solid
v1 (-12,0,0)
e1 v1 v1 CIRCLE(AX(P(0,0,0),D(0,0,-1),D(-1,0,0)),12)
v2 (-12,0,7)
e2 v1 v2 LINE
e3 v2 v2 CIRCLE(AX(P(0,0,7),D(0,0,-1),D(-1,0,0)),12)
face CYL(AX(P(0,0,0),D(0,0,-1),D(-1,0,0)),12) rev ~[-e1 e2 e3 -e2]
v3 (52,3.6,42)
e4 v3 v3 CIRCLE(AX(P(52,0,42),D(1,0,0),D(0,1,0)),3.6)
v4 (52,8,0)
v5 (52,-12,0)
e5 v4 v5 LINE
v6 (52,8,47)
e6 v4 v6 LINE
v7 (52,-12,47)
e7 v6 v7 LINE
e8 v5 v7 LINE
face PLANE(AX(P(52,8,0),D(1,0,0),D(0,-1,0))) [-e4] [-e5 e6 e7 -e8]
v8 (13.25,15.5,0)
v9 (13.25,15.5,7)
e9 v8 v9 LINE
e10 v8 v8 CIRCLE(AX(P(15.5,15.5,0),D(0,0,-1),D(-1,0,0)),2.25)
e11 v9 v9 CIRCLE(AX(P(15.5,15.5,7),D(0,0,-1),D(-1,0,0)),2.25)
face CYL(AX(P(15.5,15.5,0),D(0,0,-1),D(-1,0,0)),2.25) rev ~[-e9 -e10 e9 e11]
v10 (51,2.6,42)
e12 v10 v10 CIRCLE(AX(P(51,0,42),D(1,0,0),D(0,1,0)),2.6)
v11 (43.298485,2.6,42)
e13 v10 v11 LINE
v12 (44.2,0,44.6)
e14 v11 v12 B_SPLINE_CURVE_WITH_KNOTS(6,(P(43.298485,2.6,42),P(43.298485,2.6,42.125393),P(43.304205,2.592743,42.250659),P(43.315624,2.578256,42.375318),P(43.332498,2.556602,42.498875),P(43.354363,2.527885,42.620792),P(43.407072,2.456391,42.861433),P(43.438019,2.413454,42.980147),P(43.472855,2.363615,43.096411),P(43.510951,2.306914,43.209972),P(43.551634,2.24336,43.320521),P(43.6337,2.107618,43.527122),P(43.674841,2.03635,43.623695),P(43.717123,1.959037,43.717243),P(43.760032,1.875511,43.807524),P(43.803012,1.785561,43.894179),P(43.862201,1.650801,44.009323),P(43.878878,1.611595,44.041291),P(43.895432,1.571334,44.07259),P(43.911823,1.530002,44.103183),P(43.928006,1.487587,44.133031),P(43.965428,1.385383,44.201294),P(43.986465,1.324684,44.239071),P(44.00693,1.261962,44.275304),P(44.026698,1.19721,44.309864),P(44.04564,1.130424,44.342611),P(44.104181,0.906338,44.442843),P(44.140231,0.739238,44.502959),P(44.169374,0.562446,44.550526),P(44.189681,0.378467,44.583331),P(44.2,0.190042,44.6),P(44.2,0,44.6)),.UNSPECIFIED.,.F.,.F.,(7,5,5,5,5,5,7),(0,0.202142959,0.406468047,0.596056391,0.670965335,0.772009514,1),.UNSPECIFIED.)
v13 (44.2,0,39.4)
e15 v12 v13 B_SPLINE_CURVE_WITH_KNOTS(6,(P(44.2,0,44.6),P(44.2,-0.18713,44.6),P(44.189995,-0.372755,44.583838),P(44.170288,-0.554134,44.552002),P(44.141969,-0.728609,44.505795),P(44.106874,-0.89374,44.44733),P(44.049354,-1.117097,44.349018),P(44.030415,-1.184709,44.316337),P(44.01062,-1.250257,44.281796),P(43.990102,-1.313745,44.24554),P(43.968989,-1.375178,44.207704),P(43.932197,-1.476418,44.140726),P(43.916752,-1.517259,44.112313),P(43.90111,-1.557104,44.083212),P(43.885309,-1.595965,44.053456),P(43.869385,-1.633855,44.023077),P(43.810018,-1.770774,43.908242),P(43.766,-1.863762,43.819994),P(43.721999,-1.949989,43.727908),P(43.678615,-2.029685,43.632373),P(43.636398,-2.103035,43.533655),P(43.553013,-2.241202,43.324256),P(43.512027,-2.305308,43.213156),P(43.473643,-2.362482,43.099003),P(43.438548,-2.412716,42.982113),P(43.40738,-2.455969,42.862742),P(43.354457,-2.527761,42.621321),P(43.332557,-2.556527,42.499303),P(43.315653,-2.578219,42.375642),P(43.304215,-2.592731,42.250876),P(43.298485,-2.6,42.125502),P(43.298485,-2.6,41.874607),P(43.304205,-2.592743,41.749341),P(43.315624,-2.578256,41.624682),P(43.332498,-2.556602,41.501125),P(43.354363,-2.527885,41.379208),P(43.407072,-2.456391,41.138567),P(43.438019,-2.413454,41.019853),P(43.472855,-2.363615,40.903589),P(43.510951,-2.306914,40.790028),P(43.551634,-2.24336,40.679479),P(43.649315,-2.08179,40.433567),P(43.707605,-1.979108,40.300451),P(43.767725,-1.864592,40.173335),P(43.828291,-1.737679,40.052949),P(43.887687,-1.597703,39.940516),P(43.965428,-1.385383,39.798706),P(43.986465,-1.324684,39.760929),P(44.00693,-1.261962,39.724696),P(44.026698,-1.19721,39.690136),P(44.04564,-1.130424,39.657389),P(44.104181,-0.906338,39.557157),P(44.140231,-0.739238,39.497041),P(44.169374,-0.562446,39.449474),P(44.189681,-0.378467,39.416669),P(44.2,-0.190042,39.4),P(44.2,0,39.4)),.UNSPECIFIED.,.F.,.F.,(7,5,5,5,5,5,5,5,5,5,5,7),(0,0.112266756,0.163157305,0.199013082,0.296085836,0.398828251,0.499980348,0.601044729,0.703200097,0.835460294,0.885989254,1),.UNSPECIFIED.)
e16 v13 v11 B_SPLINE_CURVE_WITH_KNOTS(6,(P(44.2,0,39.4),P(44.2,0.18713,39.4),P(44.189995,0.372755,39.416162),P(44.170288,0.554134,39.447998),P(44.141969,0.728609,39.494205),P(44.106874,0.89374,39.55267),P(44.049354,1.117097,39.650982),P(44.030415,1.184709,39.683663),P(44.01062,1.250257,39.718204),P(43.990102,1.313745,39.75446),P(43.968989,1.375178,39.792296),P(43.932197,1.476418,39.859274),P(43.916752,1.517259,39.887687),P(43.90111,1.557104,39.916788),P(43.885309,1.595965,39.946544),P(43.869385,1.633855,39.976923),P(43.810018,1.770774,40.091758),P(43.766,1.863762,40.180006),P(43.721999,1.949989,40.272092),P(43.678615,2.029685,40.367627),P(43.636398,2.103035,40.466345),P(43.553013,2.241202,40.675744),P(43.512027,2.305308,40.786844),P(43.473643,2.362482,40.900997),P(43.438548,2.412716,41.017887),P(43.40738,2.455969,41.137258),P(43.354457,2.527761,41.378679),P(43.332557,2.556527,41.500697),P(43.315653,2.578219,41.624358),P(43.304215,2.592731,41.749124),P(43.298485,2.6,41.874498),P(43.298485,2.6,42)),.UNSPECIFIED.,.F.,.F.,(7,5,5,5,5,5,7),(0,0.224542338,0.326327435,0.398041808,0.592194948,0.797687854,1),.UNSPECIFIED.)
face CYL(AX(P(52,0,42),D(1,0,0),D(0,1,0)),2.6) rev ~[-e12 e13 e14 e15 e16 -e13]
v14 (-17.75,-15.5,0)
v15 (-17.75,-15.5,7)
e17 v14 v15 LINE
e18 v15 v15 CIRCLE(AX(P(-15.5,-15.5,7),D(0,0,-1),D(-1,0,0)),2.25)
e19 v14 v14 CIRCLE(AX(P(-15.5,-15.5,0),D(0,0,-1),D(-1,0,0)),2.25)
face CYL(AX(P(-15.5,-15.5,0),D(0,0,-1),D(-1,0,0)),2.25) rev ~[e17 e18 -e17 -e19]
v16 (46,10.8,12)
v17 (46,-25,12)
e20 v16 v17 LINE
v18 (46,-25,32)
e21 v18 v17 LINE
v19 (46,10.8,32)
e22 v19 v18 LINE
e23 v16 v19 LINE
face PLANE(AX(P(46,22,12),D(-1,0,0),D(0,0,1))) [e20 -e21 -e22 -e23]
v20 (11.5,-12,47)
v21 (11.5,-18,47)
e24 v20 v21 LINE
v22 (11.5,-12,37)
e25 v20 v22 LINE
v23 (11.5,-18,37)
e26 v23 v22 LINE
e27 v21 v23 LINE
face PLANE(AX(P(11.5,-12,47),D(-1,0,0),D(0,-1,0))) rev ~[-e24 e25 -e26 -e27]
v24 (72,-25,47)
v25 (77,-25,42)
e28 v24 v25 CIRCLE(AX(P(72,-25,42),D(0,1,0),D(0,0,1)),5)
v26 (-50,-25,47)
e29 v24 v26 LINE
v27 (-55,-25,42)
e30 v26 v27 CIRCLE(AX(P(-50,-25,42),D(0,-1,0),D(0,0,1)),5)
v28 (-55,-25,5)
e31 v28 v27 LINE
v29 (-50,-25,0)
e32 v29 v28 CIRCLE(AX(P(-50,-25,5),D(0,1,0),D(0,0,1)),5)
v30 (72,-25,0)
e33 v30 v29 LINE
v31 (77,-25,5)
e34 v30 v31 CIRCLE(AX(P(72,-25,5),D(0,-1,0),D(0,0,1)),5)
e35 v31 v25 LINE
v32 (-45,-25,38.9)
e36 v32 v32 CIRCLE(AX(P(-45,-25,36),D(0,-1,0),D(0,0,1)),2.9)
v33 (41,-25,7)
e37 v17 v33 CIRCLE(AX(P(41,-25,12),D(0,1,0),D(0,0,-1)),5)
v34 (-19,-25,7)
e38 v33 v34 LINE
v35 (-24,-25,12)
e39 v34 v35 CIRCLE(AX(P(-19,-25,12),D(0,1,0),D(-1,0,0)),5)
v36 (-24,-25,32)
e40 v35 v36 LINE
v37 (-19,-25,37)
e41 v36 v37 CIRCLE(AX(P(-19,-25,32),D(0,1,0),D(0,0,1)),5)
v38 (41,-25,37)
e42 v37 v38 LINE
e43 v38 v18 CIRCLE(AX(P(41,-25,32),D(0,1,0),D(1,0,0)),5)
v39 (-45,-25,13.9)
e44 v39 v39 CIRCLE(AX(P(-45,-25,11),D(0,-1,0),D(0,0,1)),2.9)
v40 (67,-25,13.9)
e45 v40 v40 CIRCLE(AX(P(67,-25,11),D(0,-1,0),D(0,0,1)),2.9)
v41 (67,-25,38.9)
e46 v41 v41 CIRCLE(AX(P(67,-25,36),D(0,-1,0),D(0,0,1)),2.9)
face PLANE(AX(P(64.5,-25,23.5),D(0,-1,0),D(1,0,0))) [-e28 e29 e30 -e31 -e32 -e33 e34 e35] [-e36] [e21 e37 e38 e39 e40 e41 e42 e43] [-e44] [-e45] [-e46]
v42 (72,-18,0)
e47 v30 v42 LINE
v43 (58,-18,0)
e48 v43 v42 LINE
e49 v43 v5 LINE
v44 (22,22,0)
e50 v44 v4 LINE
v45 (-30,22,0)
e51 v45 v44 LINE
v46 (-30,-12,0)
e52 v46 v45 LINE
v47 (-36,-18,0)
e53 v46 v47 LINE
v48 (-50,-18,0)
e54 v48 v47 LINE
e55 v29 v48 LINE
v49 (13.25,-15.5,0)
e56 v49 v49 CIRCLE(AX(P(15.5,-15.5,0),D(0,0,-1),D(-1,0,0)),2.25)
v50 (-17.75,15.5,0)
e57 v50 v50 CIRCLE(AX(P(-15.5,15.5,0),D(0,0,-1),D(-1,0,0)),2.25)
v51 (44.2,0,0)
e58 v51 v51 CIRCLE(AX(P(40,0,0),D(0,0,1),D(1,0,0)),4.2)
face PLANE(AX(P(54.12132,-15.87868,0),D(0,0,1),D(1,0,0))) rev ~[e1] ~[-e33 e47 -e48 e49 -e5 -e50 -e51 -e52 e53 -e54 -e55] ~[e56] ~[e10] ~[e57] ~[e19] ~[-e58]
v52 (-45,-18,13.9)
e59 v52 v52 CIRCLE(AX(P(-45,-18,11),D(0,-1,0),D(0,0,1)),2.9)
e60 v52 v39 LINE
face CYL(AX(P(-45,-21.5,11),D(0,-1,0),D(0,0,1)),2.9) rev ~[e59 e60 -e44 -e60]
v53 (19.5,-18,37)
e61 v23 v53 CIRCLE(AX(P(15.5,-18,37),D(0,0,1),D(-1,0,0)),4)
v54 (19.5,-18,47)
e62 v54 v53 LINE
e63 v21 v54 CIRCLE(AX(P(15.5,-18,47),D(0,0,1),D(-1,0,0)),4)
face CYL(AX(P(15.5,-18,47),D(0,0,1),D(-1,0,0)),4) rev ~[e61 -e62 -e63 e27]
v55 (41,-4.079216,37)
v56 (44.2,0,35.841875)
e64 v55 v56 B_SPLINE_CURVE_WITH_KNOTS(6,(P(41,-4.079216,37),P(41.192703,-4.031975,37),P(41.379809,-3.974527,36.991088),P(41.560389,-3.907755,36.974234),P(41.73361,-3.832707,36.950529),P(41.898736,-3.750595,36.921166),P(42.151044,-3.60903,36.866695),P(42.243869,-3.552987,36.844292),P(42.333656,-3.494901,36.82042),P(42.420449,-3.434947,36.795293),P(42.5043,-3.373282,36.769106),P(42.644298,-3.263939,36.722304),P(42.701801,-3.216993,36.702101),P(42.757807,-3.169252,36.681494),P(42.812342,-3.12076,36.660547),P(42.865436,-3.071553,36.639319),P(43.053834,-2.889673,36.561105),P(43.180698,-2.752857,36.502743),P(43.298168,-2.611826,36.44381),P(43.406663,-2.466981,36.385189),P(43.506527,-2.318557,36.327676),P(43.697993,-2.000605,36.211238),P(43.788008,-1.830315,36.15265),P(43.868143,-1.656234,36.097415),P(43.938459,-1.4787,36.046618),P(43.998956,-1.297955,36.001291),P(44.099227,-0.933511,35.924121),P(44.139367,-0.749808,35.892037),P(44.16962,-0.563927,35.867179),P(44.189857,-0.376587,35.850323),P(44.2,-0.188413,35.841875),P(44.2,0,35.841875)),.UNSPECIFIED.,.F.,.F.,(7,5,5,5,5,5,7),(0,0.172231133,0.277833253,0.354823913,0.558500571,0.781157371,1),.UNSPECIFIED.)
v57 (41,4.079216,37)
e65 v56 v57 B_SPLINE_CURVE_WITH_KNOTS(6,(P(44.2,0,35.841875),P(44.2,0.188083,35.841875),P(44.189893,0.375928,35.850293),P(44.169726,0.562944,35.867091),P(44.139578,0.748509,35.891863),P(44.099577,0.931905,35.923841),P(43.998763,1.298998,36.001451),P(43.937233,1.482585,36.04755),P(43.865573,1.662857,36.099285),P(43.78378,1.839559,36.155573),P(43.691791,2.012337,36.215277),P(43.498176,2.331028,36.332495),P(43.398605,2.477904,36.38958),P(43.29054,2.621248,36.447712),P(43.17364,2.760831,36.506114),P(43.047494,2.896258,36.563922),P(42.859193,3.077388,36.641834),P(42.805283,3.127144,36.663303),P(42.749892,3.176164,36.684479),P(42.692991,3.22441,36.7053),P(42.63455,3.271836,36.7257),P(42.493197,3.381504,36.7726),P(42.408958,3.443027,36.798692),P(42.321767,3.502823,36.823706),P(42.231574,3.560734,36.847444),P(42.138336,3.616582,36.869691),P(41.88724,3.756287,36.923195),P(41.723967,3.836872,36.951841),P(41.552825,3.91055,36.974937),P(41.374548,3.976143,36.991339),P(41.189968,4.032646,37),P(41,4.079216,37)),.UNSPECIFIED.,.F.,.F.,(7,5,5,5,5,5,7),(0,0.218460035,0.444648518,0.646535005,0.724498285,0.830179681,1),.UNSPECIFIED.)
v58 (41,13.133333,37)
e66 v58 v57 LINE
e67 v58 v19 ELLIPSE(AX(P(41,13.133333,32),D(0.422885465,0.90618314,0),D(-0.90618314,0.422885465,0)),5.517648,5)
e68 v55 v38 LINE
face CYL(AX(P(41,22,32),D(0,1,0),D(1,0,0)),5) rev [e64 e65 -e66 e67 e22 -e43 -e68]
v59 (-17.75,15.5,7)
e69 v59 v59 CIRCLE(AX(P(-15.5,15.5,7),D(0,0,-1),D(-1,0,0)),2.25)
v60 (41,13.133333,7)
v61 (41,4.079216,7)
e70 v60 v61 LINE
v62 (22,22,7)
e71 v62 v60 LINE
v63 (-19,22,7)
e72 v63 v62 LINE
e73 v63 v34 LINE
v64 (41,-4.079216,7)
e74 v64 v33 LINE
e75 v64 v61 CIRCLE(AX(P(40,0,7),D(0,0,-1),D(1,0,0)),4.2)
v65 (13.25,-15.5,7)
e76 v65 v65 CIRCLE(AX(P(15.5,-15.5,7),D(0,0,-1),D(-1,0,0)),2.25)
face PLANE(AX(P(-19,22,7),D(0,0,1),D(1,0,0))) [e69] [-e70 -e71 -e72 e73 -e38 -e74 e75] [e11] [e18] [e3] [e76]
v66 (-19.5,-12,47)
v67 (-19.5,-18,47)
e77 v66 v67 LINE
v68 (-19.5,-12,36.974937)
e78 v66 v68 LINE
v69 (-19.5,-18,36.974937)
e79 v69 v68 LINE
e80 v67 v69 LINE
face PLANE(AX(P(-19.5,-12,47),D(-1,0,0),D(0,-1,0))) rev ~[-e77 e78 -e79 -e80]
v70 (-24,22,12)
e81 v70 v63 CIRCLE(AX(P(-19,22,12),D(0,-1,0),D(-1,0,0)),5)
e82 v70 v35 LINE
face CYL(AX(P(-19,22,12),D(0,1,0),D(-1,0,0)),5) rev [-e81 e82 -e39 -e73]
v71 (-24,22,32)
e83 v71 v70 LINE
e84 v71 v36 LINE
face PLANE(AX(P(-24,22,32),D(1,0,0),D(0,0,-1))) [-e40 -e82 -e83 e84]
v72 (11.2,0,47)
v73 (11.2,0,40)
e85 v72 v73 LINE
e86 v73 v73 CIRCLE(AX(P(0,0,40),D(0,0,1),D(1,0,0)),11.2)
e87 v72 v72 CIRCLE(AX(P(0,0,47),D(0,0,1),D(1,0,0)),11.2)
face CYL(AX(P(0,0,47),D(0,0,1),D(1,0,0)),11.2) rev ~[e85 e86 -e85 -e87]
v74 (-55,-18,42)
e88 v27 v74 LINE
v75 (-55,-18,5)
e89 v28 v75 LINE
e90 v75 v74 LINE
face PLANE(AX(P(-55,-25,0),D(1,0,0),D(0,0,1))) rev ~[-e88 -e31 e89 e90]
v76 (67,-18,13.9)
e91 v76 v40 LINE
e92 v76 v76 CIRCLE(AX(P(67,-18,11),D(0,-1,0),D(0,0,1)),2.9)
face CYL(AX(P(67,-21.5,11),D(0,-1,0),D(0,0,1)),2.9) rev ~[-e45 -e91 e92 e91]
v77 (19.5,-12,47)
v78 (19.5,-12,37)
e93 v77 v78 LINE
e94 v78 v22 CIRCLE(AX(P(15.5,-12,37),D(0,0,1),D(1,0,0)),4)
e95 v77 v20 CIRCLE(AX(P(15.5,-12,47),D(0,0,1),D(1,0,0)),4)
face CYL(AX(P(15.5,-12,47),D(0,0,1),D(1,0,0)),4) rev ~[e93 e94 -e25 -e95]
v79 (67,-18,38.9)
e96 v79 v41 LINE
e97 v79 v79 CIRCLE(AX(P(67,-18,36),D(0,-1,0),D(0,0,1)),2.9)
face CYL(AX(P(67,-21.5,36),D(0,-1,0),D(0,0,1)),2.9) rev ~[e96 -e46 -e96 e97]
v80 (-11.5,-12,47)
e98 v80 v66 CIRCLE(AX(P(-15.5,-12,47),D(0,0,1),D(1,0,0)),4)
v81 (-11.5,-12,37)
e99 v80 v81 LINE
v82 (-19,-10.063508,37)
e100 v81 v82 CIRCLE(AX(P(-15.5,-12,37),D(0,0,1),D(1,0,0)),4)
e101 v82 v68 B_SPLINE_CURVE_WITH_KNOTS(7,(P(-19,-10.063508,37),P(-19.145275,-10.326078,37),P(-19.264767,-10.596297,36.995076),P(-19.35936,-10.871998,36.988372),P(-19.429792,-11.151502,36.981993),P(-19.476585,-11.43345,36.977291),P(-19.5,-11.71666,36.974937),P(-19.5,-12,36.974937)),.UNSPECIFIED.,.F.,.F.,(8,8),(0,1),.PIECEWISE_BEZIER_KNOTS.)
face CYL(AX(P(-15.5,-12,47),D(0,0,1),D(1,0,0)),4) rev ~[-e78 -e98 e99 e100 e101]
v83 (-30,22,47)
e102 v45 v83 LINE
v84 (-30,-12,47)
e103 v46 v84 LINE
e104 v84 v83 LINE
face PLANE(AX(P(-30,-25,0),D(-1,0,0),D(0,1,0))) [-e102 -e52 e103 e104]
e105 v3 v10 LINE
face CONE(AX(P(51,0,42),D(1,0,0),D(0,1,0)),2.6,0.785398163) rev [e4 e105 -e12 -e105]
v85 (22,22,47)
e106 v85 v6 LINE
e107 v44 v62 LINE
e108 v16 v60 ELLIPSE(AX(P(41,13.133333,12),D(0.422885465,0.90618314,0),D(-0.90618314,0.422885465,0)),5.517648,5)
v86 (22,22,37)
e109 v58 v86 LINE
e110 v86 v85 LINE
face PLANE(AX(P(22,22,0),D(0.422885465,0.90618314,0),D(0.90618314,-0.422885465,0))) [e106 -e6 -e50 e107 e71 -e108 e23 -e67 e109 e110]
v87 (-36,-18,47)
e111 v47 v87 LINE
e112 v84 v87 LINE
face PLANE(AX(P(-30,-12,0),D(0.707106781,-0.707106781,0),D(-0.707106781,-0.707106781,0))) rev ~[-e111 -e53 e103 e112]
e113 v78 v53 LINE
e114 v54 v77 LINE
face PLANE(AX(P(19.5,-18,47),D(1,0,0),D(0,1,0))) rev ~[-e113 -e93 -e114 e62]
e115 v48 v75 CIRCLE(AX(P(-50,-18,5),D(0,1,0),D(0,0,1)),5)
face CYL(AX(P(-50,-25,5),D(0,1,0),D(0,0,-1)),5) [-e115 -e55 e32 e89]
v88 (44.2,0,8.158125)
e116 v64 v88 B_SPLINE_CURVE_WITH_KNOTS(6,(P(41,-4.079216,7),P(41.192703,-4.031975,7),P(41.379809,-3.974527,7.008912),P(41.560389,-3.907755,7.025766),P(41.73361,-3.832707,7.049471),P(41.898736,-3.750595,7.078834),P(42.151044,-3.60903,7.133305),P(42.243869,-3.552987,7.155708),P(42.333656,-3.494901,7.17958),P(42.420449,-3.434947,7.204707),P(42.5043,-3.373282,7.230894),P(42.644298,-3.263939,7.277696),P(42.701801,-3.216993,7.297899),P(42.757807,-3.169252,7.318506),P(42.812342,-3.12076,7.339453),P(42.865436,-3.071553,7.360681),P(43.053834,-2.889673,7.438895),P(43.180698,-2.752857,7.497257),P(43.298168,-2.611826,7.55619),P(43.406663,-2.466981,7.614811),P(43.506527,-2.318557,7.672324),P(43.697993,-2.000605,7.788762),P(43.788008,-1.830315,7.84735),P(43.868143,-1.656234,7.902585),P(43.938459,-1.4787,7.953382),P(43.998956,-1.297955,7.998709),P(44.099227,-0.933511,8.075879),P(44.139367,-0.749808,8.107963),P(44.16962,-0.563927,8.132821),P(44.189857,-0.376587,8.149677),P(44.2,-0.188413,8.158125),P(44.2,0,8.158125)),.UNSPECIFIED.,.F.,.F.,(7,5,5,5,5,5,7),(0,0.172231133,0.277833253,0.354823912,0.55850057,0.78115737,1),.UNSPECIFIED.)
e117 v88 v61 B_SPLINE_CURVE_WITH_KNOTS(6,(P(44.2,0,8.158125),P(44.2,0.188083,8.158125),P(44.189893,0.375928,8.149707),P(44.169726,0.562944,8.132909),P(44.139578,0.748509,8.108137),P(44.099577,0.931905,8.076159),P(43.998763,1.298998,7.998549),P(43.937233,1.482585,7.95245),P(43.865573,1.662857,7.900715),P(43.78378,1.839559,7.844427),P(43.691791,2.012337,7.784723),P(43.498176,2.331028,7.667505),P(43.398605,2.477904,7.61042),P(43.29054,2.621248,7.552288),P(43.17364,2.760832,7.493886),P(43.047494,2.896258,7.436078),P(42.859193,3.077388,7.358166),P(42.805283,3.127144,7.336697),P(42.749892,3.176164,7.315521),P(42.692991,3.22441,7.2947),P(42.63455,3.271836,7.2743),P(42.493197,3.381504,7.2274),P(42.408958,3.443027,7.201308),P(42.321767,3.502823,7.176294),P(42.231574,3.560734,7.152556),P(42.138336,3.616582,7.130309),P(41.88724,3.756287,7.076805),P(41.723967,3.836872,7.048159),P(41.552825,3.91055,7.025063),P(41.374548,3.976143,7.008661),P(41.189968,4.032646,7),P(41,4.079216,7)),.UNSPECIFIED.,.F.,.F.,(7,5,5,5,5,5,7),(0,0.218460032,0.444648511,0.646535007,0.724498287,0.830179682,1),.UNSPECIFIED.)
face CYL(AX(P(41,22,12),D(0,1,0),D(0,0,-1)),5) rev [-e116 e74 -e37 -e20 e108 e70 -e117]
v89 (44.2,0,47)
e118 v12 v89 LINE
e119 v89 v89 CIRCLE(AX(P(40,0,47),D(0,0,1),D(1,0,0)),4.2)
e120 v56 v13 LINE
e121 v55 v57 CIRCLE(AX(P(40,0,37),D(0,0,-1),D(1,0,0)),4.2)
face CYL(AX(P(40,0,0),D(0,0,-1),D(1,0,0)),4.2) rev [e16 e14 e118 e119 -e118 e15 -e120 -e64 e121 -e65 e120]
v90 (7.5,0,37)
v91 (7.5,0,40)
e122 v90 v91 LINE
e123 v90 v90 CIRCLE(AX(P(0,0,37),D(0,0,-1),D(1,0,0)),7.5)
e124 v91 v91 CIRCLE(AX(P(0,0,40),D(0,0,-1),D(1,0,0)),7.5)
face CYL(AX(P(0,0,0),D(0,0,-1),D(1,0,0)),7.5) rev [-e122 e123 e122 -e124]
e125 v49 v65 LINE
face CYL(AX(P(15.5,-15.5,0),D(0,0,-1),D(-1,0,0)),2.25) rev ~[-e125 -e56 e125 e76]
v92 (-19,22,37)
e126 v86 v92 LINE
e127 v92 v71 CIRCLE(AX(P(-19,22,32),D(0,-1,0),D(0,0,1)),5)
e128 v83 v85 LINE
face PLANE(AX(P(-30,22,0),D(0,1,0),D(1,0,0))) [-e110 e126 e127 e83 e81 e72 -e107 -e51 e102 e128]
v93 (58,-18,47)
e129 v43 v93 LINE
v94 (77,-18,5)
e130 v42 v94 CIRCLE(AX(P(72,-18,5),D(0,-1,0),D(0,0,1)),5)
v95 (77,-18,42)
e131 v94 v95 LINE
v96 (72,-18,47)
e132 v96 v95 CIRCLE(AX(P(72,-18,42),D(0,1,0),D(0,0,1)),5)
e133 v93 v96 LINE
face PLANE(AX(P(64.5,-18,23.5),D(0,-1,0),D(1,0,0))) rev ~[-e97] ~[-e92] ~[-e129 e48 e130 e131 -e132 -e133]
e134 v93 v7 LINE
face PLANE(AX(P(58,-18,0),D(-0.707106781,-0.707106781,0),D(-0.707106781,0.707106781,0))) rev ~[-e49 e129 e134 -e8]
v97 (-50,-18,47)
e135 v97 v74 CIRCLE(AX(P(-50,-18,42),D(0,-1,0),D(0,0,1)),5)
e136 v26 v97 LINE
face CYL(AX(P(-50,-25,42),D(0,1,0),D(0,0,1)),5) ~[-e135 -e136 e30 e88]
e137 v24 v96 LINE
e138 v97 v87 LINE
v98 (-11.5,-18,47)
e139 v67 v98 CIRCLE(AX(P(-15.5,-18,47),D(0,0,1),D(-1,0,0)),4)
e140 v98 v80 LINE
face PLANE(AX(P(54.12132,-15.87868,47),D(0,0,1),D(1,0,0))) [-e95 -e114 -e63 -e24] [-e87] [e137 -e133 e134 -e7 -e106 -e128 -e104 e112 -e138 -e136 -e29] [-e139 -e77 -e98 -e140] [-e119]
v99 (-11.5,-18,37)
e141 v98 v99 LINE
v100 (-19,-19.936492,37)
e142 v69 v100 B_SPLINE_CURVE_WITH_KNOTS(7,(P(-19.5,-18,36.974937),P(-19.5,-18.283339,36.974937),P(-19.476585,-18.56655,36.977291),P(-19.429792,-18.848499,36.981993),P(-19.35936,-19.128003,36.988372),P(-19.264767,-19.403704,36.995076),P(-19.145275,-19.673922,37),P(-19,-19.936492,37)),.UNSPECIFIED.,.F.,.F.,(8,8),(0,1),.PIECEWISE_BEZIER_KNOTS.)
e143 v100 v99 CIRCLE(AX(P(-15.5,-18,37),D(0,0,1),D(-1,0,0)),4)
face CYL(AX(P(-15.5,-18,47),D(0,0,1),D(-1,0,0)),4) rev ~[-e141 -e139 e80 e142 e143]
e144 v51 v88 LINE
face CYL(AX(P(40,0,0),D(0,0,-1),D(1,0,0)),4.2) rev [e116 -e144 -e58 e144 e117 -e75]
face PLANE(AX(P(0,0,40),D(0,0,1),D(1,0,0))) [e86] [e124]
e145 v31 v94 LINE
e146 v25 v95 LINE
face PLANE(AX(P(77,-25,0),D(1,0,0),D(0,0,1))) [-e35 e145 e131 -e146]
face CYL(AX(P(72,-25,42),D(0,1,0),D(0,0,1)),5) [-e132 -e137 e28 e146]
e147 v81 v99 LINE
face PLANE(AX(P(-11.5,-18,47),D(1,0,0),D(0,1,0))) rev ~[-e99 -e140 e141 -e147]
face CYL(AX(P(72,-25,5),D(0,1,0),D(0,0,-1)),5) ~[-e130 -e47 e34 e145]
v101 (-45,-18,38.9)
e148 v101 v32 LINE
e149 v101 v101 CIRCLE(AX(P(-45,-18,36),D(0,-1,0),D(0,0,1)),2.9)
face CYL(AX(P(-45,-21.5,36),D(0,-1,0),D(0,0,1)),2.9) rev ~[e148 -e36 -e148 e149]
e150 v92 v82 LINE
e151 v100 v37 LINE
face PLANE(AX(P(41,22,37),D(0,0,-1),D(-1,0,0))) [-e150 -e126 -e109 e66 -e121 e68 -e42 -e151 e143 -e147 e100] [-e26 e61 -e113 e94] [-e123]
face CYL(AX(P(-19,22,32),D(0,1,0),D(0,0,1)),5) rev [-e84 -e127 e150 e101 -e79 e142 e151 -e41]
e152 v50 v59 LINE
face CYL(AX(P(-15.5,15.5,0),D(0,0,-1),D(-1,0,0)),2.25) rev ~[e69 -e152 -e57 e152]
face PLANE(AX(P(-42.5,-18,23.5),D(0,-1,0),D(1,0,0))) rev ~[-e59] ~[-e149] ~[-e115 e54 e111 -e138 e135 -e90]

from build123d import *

# Parameters (mm, degrees)
SKETCH1_R                     = 7.5
SKETCH1_R_2                   = 4.2
BOSS_EXTRUDE1_DEPTH           = 47
SKETCH2_R                     = 11.2
CUT_EXTRUDE1_DEPTH            = 7
SKETCH3_R                     = 2.25
SKETCH3_R_2                   = 12
CUT_EXTRUDE2_DEPTH            = 15
CUT_EXTRUDE3_DEPTH            = 85.391942743
CUT_EXTRUDE4_DEPTH            = 20
SKETCH7_R                     = 2.6
CUT_EXTRUDE5_DEPTH            = 10
CHAMFER2_SIZE                 = 1
SKETCH9_W                     = 25
SKETCH9_H                     = 47
BOSS_EXTRUDE2_DEPTH           = 7
BOSS_EXTRUDE2_2_DEPTH         = 7
SKETCH10_W                    = 2.9
SKETCH10_H                    = 7
M5_CLEARANCE_HOLE1_AT_2_COUNT = 2
M5_CLEARANCE_HOLE1_AT_2_PITCH = 25
M5_CLEARANCE_HOLE1_AT_3_COUNT = 2
M5_CLEARANCE_HOLE1_AT_3_PITCH = 114.756263446
M5_CLEARANCE_HOLE1_AT_4_COUNT = 2
M5_CLEARANCE_HOLE1_AT_4_PITCH = 112
BOSS_EXTRUDE3_DEPTH           = 47
FILLET1_R                     = 5


with BuildPart() as part:
    # Sketch1 → Boss-Extrude1 (new body)
    with BuildSketch(Plane.XY):
        Polygon((-30, -25), (-30, 22), (22, 22), (52, 8), (52, -25), align=None)
        Circle(SKETCH1_R, mode=Mode.SUBTRACT)
        with Locations((40, 0)):
            Circle(SKETCH1_R_2, mode=Mode.SUBTRACT)
    extrude(amount=BOSS_EXTRUDE1_DEPTH)

    # Sketch2 → Cut-Extrude1 (cut)
    with BuildSketch(Plane.XY.offset(47)):
        Circle(SKETCH2_R)
    extrude(amount=-CUT_EXTRUDE1_DEPTH, mode=Mode.SUBTRACT)

    # Sketch3 → Cut-Extrude2 (cut)
    with BuildSketch(Plane(origin=(0, 0, 0), x_dir=(-1, 0, 0), z_dir=(0, 0, -1))):
        with Locations((-15.5, 15.5)):
            Circle(SKETCH3_R)
        with Locations((-15.5, -15.5)):
            Circle(SKETCH3_R)
        with Locations((15.5, -15.5)):
            Circle(SKETCH3_R)
        with Locations((15.5, 15.5)):
            Circle(SKETCH3_R)
        Circle(SKETCH3_R_2)
    extrude(amount=-CUT_EXTRUDE2_DEPTH, mode=Mode.SUBTRACT)

    # Sketch4 → Cut-Extrude3 (cut, through all)
    with BuildSketch(Plane(origin=(0, 22, 0), x_dir=(1, 0, 0), z_dir=(0, 1, 0))):
        with BuildLine():
            Line((-19, -7), (41, -7))
            ThreePointArc((41, -7), (44.535533906, -8.464466094), (46, -12))
            Line((46, -12), (46, -32))
            ThreePointArc((46, -32), (44.535533906, -35.535533906), (41, -37))
            Line((41, -37), (-19, -37))
            ThreePointArc((-19, -37), (-22.535533906, -35.535533906), (-24, -32))
            Line((-24, -32), (-24, -12))
            ThreePointArc((-24, -12), (-22.535533906, -8.464466094), (-19, -7))
        make_face()
    extrude(amount=-CUT_EXTRUDE3_DEPTH, mode=Mode.SUBTRACT)

    # Sketch6 → Cut-Extrude4 (cut)
    with BuildSketch(Plane.XY.offset(47)):
        with BuildLine():
            Line((-19.5, -12), (-19.5, -18))
            ThreePointArc((-19.5, -18), (-15.5, -22), (-11.5, -18))
            Line((-11.5, -18), (-11.5, -12))
            ThreePointArc((-11.5, -12), (-15.5, -8), (-19.5, -12))
        make_face()
        with BuildLine():
            Line((11.5, -12), (11.5, -18))
            ThreePointArc((11.5, -18), (15.5, -22), (19.5, -18))
            Line((19.5, -18), (19.5, -12))
            ThreePointArc((19.5, -12), (15.5, -8), (11.5, -12))
        make_face()
    extrude(amount=-CUT_EXTRUDE4_DEPTH, mode=Mode.SUBTRACT)

    # Sketch7 → Cut-Extrude5 (cut)
    with BuildSketch(Plane(origin=(52, 0, 0), x_dir=(0, 0, -1), z_dir=(1, 0, 0))):
        with Locations(Location((-42, 0, 0), (0, 0, 90))):
            Circle(SKETCH7_R)
    extrude(amount=-CUT_EXTRUDE5_DEPTH, mode=Mode.SUBTRACT)

    # Chamfer2
    chamfer2_edges = [part.edges().sort_by_distance(p)[0] for p in [
        (52, -2.6, 42),
    ]]
    chamfer(chamfer2_edges, length=CHAMFER2_SIZE)



with BuildPart() as body_2:
    # Sketch9 → Boss-Extrude2 (new body)
    with BuildSketch(Plane.XZ.offset(25)):
        with Locations((-42.5, 23.5)):
            Rectangle(SKETCH9_W, SKETCH9_H)
    extrude(amount=-BOSS_EXTRUDE2_DEPTH)

    # Sketch10 → M5 Clearance Hole1 (revolve, cut)
    with BuildSketch(Plane(origin=(-45, -18, 36), x_dir=(0, 0, 1), z_dir=(1, 0, 0))):
        with Locations((1.45, 3.5)):
            Rectangle(SKETCH10_W, SKETCH10_H)
    m5_clearance_hole1 = revolve(axis=Axis((-45, -11.65, 36), (0, -1, 0)), mode=Mode.SUBTRACT)

    # M5 Clearance Hole1 at 2: M5 Clearance Hole1 ×2
    with Locations(*[(0, 0, -i * M5_CLEARANCE_HOLE1_AT_2_PITCH) for i in range(1, M5_CLEARANCE_HOLE1_AT_2_COUNT)]):
        add(m5_clearance_hole1, mode=Mode.SUBTRACT)


with BuildPart() as body_3:
    # Sketch9 → Boss-Extrude2 2 (new body)
    with BuildSketch(Plane.XZ.offset(25)):
        with Locations((64.5, 23.5)):
            Rectangle(SKETCH9_W, SKETCH9_H)
    extrude(amount=-BOSS_EXTRUDE2_2_DEPTH)

    # M5 Clearance Hole1 at 3: M5 Clearance Hole1 ×2
    with Locations(*[Vector(0.9759815859905214, 0, -0.21785303258717012) * (i * M5_CLEARANCE_HOLE1_AT_3_PITCH) for i in range(1, M5_CLEARANCE_HOLE1_AT_3_COUNT)]):
        add(m5_clearance_hole1, mode=Mode.SUBTRACT)

    # M5 Clearance Hole1 at 4: M5 Clearance Hole1 ×2
    with Locations(*[(i * M5_CLEARANCE_HOLE1_AT_4_PITCH, 0, 0) for i in range(1, M5_CLEARANCE_HOLE1_AT_4_COUNT)]):
        add(m5_clearance_hole1, mode=Mode.SUBTRACT)


with BuildPart() as part_1:
    add(part.part)

    add(body_2.part)  # Boss-Extrude3 merges body 2

    add(body_3.part)  # Boss-Extrude3 merges body 3
    # Sketch13 → Boss-Extrude3 (add)
    with BuildSketch(Plane(origin=(0, 0, 0), x_dir=(-1, 0, 0), z_dir=(0, 0, -1))):
        Polygon((-52, -18), (-58, -18), (-52, -12), align=None)
        Polygon((30, -18), (30, -12), (36, -18), align=None)
    extrude(amount=-BOSS_EXTRUDE3_DEPTH)

    # Fillet1
    fillet1_edges = [part_1.edges().sort_by_distance(p)[0] for p in [
        (-55, -21.5, 47),
        (-55, -21.5, 0),
        (77, -21.5, 0),
        (77, -21.5, 47),
    ]]
    fillet(fillet1_edges, radius=FILLET1_R)


solid = part_1.part
